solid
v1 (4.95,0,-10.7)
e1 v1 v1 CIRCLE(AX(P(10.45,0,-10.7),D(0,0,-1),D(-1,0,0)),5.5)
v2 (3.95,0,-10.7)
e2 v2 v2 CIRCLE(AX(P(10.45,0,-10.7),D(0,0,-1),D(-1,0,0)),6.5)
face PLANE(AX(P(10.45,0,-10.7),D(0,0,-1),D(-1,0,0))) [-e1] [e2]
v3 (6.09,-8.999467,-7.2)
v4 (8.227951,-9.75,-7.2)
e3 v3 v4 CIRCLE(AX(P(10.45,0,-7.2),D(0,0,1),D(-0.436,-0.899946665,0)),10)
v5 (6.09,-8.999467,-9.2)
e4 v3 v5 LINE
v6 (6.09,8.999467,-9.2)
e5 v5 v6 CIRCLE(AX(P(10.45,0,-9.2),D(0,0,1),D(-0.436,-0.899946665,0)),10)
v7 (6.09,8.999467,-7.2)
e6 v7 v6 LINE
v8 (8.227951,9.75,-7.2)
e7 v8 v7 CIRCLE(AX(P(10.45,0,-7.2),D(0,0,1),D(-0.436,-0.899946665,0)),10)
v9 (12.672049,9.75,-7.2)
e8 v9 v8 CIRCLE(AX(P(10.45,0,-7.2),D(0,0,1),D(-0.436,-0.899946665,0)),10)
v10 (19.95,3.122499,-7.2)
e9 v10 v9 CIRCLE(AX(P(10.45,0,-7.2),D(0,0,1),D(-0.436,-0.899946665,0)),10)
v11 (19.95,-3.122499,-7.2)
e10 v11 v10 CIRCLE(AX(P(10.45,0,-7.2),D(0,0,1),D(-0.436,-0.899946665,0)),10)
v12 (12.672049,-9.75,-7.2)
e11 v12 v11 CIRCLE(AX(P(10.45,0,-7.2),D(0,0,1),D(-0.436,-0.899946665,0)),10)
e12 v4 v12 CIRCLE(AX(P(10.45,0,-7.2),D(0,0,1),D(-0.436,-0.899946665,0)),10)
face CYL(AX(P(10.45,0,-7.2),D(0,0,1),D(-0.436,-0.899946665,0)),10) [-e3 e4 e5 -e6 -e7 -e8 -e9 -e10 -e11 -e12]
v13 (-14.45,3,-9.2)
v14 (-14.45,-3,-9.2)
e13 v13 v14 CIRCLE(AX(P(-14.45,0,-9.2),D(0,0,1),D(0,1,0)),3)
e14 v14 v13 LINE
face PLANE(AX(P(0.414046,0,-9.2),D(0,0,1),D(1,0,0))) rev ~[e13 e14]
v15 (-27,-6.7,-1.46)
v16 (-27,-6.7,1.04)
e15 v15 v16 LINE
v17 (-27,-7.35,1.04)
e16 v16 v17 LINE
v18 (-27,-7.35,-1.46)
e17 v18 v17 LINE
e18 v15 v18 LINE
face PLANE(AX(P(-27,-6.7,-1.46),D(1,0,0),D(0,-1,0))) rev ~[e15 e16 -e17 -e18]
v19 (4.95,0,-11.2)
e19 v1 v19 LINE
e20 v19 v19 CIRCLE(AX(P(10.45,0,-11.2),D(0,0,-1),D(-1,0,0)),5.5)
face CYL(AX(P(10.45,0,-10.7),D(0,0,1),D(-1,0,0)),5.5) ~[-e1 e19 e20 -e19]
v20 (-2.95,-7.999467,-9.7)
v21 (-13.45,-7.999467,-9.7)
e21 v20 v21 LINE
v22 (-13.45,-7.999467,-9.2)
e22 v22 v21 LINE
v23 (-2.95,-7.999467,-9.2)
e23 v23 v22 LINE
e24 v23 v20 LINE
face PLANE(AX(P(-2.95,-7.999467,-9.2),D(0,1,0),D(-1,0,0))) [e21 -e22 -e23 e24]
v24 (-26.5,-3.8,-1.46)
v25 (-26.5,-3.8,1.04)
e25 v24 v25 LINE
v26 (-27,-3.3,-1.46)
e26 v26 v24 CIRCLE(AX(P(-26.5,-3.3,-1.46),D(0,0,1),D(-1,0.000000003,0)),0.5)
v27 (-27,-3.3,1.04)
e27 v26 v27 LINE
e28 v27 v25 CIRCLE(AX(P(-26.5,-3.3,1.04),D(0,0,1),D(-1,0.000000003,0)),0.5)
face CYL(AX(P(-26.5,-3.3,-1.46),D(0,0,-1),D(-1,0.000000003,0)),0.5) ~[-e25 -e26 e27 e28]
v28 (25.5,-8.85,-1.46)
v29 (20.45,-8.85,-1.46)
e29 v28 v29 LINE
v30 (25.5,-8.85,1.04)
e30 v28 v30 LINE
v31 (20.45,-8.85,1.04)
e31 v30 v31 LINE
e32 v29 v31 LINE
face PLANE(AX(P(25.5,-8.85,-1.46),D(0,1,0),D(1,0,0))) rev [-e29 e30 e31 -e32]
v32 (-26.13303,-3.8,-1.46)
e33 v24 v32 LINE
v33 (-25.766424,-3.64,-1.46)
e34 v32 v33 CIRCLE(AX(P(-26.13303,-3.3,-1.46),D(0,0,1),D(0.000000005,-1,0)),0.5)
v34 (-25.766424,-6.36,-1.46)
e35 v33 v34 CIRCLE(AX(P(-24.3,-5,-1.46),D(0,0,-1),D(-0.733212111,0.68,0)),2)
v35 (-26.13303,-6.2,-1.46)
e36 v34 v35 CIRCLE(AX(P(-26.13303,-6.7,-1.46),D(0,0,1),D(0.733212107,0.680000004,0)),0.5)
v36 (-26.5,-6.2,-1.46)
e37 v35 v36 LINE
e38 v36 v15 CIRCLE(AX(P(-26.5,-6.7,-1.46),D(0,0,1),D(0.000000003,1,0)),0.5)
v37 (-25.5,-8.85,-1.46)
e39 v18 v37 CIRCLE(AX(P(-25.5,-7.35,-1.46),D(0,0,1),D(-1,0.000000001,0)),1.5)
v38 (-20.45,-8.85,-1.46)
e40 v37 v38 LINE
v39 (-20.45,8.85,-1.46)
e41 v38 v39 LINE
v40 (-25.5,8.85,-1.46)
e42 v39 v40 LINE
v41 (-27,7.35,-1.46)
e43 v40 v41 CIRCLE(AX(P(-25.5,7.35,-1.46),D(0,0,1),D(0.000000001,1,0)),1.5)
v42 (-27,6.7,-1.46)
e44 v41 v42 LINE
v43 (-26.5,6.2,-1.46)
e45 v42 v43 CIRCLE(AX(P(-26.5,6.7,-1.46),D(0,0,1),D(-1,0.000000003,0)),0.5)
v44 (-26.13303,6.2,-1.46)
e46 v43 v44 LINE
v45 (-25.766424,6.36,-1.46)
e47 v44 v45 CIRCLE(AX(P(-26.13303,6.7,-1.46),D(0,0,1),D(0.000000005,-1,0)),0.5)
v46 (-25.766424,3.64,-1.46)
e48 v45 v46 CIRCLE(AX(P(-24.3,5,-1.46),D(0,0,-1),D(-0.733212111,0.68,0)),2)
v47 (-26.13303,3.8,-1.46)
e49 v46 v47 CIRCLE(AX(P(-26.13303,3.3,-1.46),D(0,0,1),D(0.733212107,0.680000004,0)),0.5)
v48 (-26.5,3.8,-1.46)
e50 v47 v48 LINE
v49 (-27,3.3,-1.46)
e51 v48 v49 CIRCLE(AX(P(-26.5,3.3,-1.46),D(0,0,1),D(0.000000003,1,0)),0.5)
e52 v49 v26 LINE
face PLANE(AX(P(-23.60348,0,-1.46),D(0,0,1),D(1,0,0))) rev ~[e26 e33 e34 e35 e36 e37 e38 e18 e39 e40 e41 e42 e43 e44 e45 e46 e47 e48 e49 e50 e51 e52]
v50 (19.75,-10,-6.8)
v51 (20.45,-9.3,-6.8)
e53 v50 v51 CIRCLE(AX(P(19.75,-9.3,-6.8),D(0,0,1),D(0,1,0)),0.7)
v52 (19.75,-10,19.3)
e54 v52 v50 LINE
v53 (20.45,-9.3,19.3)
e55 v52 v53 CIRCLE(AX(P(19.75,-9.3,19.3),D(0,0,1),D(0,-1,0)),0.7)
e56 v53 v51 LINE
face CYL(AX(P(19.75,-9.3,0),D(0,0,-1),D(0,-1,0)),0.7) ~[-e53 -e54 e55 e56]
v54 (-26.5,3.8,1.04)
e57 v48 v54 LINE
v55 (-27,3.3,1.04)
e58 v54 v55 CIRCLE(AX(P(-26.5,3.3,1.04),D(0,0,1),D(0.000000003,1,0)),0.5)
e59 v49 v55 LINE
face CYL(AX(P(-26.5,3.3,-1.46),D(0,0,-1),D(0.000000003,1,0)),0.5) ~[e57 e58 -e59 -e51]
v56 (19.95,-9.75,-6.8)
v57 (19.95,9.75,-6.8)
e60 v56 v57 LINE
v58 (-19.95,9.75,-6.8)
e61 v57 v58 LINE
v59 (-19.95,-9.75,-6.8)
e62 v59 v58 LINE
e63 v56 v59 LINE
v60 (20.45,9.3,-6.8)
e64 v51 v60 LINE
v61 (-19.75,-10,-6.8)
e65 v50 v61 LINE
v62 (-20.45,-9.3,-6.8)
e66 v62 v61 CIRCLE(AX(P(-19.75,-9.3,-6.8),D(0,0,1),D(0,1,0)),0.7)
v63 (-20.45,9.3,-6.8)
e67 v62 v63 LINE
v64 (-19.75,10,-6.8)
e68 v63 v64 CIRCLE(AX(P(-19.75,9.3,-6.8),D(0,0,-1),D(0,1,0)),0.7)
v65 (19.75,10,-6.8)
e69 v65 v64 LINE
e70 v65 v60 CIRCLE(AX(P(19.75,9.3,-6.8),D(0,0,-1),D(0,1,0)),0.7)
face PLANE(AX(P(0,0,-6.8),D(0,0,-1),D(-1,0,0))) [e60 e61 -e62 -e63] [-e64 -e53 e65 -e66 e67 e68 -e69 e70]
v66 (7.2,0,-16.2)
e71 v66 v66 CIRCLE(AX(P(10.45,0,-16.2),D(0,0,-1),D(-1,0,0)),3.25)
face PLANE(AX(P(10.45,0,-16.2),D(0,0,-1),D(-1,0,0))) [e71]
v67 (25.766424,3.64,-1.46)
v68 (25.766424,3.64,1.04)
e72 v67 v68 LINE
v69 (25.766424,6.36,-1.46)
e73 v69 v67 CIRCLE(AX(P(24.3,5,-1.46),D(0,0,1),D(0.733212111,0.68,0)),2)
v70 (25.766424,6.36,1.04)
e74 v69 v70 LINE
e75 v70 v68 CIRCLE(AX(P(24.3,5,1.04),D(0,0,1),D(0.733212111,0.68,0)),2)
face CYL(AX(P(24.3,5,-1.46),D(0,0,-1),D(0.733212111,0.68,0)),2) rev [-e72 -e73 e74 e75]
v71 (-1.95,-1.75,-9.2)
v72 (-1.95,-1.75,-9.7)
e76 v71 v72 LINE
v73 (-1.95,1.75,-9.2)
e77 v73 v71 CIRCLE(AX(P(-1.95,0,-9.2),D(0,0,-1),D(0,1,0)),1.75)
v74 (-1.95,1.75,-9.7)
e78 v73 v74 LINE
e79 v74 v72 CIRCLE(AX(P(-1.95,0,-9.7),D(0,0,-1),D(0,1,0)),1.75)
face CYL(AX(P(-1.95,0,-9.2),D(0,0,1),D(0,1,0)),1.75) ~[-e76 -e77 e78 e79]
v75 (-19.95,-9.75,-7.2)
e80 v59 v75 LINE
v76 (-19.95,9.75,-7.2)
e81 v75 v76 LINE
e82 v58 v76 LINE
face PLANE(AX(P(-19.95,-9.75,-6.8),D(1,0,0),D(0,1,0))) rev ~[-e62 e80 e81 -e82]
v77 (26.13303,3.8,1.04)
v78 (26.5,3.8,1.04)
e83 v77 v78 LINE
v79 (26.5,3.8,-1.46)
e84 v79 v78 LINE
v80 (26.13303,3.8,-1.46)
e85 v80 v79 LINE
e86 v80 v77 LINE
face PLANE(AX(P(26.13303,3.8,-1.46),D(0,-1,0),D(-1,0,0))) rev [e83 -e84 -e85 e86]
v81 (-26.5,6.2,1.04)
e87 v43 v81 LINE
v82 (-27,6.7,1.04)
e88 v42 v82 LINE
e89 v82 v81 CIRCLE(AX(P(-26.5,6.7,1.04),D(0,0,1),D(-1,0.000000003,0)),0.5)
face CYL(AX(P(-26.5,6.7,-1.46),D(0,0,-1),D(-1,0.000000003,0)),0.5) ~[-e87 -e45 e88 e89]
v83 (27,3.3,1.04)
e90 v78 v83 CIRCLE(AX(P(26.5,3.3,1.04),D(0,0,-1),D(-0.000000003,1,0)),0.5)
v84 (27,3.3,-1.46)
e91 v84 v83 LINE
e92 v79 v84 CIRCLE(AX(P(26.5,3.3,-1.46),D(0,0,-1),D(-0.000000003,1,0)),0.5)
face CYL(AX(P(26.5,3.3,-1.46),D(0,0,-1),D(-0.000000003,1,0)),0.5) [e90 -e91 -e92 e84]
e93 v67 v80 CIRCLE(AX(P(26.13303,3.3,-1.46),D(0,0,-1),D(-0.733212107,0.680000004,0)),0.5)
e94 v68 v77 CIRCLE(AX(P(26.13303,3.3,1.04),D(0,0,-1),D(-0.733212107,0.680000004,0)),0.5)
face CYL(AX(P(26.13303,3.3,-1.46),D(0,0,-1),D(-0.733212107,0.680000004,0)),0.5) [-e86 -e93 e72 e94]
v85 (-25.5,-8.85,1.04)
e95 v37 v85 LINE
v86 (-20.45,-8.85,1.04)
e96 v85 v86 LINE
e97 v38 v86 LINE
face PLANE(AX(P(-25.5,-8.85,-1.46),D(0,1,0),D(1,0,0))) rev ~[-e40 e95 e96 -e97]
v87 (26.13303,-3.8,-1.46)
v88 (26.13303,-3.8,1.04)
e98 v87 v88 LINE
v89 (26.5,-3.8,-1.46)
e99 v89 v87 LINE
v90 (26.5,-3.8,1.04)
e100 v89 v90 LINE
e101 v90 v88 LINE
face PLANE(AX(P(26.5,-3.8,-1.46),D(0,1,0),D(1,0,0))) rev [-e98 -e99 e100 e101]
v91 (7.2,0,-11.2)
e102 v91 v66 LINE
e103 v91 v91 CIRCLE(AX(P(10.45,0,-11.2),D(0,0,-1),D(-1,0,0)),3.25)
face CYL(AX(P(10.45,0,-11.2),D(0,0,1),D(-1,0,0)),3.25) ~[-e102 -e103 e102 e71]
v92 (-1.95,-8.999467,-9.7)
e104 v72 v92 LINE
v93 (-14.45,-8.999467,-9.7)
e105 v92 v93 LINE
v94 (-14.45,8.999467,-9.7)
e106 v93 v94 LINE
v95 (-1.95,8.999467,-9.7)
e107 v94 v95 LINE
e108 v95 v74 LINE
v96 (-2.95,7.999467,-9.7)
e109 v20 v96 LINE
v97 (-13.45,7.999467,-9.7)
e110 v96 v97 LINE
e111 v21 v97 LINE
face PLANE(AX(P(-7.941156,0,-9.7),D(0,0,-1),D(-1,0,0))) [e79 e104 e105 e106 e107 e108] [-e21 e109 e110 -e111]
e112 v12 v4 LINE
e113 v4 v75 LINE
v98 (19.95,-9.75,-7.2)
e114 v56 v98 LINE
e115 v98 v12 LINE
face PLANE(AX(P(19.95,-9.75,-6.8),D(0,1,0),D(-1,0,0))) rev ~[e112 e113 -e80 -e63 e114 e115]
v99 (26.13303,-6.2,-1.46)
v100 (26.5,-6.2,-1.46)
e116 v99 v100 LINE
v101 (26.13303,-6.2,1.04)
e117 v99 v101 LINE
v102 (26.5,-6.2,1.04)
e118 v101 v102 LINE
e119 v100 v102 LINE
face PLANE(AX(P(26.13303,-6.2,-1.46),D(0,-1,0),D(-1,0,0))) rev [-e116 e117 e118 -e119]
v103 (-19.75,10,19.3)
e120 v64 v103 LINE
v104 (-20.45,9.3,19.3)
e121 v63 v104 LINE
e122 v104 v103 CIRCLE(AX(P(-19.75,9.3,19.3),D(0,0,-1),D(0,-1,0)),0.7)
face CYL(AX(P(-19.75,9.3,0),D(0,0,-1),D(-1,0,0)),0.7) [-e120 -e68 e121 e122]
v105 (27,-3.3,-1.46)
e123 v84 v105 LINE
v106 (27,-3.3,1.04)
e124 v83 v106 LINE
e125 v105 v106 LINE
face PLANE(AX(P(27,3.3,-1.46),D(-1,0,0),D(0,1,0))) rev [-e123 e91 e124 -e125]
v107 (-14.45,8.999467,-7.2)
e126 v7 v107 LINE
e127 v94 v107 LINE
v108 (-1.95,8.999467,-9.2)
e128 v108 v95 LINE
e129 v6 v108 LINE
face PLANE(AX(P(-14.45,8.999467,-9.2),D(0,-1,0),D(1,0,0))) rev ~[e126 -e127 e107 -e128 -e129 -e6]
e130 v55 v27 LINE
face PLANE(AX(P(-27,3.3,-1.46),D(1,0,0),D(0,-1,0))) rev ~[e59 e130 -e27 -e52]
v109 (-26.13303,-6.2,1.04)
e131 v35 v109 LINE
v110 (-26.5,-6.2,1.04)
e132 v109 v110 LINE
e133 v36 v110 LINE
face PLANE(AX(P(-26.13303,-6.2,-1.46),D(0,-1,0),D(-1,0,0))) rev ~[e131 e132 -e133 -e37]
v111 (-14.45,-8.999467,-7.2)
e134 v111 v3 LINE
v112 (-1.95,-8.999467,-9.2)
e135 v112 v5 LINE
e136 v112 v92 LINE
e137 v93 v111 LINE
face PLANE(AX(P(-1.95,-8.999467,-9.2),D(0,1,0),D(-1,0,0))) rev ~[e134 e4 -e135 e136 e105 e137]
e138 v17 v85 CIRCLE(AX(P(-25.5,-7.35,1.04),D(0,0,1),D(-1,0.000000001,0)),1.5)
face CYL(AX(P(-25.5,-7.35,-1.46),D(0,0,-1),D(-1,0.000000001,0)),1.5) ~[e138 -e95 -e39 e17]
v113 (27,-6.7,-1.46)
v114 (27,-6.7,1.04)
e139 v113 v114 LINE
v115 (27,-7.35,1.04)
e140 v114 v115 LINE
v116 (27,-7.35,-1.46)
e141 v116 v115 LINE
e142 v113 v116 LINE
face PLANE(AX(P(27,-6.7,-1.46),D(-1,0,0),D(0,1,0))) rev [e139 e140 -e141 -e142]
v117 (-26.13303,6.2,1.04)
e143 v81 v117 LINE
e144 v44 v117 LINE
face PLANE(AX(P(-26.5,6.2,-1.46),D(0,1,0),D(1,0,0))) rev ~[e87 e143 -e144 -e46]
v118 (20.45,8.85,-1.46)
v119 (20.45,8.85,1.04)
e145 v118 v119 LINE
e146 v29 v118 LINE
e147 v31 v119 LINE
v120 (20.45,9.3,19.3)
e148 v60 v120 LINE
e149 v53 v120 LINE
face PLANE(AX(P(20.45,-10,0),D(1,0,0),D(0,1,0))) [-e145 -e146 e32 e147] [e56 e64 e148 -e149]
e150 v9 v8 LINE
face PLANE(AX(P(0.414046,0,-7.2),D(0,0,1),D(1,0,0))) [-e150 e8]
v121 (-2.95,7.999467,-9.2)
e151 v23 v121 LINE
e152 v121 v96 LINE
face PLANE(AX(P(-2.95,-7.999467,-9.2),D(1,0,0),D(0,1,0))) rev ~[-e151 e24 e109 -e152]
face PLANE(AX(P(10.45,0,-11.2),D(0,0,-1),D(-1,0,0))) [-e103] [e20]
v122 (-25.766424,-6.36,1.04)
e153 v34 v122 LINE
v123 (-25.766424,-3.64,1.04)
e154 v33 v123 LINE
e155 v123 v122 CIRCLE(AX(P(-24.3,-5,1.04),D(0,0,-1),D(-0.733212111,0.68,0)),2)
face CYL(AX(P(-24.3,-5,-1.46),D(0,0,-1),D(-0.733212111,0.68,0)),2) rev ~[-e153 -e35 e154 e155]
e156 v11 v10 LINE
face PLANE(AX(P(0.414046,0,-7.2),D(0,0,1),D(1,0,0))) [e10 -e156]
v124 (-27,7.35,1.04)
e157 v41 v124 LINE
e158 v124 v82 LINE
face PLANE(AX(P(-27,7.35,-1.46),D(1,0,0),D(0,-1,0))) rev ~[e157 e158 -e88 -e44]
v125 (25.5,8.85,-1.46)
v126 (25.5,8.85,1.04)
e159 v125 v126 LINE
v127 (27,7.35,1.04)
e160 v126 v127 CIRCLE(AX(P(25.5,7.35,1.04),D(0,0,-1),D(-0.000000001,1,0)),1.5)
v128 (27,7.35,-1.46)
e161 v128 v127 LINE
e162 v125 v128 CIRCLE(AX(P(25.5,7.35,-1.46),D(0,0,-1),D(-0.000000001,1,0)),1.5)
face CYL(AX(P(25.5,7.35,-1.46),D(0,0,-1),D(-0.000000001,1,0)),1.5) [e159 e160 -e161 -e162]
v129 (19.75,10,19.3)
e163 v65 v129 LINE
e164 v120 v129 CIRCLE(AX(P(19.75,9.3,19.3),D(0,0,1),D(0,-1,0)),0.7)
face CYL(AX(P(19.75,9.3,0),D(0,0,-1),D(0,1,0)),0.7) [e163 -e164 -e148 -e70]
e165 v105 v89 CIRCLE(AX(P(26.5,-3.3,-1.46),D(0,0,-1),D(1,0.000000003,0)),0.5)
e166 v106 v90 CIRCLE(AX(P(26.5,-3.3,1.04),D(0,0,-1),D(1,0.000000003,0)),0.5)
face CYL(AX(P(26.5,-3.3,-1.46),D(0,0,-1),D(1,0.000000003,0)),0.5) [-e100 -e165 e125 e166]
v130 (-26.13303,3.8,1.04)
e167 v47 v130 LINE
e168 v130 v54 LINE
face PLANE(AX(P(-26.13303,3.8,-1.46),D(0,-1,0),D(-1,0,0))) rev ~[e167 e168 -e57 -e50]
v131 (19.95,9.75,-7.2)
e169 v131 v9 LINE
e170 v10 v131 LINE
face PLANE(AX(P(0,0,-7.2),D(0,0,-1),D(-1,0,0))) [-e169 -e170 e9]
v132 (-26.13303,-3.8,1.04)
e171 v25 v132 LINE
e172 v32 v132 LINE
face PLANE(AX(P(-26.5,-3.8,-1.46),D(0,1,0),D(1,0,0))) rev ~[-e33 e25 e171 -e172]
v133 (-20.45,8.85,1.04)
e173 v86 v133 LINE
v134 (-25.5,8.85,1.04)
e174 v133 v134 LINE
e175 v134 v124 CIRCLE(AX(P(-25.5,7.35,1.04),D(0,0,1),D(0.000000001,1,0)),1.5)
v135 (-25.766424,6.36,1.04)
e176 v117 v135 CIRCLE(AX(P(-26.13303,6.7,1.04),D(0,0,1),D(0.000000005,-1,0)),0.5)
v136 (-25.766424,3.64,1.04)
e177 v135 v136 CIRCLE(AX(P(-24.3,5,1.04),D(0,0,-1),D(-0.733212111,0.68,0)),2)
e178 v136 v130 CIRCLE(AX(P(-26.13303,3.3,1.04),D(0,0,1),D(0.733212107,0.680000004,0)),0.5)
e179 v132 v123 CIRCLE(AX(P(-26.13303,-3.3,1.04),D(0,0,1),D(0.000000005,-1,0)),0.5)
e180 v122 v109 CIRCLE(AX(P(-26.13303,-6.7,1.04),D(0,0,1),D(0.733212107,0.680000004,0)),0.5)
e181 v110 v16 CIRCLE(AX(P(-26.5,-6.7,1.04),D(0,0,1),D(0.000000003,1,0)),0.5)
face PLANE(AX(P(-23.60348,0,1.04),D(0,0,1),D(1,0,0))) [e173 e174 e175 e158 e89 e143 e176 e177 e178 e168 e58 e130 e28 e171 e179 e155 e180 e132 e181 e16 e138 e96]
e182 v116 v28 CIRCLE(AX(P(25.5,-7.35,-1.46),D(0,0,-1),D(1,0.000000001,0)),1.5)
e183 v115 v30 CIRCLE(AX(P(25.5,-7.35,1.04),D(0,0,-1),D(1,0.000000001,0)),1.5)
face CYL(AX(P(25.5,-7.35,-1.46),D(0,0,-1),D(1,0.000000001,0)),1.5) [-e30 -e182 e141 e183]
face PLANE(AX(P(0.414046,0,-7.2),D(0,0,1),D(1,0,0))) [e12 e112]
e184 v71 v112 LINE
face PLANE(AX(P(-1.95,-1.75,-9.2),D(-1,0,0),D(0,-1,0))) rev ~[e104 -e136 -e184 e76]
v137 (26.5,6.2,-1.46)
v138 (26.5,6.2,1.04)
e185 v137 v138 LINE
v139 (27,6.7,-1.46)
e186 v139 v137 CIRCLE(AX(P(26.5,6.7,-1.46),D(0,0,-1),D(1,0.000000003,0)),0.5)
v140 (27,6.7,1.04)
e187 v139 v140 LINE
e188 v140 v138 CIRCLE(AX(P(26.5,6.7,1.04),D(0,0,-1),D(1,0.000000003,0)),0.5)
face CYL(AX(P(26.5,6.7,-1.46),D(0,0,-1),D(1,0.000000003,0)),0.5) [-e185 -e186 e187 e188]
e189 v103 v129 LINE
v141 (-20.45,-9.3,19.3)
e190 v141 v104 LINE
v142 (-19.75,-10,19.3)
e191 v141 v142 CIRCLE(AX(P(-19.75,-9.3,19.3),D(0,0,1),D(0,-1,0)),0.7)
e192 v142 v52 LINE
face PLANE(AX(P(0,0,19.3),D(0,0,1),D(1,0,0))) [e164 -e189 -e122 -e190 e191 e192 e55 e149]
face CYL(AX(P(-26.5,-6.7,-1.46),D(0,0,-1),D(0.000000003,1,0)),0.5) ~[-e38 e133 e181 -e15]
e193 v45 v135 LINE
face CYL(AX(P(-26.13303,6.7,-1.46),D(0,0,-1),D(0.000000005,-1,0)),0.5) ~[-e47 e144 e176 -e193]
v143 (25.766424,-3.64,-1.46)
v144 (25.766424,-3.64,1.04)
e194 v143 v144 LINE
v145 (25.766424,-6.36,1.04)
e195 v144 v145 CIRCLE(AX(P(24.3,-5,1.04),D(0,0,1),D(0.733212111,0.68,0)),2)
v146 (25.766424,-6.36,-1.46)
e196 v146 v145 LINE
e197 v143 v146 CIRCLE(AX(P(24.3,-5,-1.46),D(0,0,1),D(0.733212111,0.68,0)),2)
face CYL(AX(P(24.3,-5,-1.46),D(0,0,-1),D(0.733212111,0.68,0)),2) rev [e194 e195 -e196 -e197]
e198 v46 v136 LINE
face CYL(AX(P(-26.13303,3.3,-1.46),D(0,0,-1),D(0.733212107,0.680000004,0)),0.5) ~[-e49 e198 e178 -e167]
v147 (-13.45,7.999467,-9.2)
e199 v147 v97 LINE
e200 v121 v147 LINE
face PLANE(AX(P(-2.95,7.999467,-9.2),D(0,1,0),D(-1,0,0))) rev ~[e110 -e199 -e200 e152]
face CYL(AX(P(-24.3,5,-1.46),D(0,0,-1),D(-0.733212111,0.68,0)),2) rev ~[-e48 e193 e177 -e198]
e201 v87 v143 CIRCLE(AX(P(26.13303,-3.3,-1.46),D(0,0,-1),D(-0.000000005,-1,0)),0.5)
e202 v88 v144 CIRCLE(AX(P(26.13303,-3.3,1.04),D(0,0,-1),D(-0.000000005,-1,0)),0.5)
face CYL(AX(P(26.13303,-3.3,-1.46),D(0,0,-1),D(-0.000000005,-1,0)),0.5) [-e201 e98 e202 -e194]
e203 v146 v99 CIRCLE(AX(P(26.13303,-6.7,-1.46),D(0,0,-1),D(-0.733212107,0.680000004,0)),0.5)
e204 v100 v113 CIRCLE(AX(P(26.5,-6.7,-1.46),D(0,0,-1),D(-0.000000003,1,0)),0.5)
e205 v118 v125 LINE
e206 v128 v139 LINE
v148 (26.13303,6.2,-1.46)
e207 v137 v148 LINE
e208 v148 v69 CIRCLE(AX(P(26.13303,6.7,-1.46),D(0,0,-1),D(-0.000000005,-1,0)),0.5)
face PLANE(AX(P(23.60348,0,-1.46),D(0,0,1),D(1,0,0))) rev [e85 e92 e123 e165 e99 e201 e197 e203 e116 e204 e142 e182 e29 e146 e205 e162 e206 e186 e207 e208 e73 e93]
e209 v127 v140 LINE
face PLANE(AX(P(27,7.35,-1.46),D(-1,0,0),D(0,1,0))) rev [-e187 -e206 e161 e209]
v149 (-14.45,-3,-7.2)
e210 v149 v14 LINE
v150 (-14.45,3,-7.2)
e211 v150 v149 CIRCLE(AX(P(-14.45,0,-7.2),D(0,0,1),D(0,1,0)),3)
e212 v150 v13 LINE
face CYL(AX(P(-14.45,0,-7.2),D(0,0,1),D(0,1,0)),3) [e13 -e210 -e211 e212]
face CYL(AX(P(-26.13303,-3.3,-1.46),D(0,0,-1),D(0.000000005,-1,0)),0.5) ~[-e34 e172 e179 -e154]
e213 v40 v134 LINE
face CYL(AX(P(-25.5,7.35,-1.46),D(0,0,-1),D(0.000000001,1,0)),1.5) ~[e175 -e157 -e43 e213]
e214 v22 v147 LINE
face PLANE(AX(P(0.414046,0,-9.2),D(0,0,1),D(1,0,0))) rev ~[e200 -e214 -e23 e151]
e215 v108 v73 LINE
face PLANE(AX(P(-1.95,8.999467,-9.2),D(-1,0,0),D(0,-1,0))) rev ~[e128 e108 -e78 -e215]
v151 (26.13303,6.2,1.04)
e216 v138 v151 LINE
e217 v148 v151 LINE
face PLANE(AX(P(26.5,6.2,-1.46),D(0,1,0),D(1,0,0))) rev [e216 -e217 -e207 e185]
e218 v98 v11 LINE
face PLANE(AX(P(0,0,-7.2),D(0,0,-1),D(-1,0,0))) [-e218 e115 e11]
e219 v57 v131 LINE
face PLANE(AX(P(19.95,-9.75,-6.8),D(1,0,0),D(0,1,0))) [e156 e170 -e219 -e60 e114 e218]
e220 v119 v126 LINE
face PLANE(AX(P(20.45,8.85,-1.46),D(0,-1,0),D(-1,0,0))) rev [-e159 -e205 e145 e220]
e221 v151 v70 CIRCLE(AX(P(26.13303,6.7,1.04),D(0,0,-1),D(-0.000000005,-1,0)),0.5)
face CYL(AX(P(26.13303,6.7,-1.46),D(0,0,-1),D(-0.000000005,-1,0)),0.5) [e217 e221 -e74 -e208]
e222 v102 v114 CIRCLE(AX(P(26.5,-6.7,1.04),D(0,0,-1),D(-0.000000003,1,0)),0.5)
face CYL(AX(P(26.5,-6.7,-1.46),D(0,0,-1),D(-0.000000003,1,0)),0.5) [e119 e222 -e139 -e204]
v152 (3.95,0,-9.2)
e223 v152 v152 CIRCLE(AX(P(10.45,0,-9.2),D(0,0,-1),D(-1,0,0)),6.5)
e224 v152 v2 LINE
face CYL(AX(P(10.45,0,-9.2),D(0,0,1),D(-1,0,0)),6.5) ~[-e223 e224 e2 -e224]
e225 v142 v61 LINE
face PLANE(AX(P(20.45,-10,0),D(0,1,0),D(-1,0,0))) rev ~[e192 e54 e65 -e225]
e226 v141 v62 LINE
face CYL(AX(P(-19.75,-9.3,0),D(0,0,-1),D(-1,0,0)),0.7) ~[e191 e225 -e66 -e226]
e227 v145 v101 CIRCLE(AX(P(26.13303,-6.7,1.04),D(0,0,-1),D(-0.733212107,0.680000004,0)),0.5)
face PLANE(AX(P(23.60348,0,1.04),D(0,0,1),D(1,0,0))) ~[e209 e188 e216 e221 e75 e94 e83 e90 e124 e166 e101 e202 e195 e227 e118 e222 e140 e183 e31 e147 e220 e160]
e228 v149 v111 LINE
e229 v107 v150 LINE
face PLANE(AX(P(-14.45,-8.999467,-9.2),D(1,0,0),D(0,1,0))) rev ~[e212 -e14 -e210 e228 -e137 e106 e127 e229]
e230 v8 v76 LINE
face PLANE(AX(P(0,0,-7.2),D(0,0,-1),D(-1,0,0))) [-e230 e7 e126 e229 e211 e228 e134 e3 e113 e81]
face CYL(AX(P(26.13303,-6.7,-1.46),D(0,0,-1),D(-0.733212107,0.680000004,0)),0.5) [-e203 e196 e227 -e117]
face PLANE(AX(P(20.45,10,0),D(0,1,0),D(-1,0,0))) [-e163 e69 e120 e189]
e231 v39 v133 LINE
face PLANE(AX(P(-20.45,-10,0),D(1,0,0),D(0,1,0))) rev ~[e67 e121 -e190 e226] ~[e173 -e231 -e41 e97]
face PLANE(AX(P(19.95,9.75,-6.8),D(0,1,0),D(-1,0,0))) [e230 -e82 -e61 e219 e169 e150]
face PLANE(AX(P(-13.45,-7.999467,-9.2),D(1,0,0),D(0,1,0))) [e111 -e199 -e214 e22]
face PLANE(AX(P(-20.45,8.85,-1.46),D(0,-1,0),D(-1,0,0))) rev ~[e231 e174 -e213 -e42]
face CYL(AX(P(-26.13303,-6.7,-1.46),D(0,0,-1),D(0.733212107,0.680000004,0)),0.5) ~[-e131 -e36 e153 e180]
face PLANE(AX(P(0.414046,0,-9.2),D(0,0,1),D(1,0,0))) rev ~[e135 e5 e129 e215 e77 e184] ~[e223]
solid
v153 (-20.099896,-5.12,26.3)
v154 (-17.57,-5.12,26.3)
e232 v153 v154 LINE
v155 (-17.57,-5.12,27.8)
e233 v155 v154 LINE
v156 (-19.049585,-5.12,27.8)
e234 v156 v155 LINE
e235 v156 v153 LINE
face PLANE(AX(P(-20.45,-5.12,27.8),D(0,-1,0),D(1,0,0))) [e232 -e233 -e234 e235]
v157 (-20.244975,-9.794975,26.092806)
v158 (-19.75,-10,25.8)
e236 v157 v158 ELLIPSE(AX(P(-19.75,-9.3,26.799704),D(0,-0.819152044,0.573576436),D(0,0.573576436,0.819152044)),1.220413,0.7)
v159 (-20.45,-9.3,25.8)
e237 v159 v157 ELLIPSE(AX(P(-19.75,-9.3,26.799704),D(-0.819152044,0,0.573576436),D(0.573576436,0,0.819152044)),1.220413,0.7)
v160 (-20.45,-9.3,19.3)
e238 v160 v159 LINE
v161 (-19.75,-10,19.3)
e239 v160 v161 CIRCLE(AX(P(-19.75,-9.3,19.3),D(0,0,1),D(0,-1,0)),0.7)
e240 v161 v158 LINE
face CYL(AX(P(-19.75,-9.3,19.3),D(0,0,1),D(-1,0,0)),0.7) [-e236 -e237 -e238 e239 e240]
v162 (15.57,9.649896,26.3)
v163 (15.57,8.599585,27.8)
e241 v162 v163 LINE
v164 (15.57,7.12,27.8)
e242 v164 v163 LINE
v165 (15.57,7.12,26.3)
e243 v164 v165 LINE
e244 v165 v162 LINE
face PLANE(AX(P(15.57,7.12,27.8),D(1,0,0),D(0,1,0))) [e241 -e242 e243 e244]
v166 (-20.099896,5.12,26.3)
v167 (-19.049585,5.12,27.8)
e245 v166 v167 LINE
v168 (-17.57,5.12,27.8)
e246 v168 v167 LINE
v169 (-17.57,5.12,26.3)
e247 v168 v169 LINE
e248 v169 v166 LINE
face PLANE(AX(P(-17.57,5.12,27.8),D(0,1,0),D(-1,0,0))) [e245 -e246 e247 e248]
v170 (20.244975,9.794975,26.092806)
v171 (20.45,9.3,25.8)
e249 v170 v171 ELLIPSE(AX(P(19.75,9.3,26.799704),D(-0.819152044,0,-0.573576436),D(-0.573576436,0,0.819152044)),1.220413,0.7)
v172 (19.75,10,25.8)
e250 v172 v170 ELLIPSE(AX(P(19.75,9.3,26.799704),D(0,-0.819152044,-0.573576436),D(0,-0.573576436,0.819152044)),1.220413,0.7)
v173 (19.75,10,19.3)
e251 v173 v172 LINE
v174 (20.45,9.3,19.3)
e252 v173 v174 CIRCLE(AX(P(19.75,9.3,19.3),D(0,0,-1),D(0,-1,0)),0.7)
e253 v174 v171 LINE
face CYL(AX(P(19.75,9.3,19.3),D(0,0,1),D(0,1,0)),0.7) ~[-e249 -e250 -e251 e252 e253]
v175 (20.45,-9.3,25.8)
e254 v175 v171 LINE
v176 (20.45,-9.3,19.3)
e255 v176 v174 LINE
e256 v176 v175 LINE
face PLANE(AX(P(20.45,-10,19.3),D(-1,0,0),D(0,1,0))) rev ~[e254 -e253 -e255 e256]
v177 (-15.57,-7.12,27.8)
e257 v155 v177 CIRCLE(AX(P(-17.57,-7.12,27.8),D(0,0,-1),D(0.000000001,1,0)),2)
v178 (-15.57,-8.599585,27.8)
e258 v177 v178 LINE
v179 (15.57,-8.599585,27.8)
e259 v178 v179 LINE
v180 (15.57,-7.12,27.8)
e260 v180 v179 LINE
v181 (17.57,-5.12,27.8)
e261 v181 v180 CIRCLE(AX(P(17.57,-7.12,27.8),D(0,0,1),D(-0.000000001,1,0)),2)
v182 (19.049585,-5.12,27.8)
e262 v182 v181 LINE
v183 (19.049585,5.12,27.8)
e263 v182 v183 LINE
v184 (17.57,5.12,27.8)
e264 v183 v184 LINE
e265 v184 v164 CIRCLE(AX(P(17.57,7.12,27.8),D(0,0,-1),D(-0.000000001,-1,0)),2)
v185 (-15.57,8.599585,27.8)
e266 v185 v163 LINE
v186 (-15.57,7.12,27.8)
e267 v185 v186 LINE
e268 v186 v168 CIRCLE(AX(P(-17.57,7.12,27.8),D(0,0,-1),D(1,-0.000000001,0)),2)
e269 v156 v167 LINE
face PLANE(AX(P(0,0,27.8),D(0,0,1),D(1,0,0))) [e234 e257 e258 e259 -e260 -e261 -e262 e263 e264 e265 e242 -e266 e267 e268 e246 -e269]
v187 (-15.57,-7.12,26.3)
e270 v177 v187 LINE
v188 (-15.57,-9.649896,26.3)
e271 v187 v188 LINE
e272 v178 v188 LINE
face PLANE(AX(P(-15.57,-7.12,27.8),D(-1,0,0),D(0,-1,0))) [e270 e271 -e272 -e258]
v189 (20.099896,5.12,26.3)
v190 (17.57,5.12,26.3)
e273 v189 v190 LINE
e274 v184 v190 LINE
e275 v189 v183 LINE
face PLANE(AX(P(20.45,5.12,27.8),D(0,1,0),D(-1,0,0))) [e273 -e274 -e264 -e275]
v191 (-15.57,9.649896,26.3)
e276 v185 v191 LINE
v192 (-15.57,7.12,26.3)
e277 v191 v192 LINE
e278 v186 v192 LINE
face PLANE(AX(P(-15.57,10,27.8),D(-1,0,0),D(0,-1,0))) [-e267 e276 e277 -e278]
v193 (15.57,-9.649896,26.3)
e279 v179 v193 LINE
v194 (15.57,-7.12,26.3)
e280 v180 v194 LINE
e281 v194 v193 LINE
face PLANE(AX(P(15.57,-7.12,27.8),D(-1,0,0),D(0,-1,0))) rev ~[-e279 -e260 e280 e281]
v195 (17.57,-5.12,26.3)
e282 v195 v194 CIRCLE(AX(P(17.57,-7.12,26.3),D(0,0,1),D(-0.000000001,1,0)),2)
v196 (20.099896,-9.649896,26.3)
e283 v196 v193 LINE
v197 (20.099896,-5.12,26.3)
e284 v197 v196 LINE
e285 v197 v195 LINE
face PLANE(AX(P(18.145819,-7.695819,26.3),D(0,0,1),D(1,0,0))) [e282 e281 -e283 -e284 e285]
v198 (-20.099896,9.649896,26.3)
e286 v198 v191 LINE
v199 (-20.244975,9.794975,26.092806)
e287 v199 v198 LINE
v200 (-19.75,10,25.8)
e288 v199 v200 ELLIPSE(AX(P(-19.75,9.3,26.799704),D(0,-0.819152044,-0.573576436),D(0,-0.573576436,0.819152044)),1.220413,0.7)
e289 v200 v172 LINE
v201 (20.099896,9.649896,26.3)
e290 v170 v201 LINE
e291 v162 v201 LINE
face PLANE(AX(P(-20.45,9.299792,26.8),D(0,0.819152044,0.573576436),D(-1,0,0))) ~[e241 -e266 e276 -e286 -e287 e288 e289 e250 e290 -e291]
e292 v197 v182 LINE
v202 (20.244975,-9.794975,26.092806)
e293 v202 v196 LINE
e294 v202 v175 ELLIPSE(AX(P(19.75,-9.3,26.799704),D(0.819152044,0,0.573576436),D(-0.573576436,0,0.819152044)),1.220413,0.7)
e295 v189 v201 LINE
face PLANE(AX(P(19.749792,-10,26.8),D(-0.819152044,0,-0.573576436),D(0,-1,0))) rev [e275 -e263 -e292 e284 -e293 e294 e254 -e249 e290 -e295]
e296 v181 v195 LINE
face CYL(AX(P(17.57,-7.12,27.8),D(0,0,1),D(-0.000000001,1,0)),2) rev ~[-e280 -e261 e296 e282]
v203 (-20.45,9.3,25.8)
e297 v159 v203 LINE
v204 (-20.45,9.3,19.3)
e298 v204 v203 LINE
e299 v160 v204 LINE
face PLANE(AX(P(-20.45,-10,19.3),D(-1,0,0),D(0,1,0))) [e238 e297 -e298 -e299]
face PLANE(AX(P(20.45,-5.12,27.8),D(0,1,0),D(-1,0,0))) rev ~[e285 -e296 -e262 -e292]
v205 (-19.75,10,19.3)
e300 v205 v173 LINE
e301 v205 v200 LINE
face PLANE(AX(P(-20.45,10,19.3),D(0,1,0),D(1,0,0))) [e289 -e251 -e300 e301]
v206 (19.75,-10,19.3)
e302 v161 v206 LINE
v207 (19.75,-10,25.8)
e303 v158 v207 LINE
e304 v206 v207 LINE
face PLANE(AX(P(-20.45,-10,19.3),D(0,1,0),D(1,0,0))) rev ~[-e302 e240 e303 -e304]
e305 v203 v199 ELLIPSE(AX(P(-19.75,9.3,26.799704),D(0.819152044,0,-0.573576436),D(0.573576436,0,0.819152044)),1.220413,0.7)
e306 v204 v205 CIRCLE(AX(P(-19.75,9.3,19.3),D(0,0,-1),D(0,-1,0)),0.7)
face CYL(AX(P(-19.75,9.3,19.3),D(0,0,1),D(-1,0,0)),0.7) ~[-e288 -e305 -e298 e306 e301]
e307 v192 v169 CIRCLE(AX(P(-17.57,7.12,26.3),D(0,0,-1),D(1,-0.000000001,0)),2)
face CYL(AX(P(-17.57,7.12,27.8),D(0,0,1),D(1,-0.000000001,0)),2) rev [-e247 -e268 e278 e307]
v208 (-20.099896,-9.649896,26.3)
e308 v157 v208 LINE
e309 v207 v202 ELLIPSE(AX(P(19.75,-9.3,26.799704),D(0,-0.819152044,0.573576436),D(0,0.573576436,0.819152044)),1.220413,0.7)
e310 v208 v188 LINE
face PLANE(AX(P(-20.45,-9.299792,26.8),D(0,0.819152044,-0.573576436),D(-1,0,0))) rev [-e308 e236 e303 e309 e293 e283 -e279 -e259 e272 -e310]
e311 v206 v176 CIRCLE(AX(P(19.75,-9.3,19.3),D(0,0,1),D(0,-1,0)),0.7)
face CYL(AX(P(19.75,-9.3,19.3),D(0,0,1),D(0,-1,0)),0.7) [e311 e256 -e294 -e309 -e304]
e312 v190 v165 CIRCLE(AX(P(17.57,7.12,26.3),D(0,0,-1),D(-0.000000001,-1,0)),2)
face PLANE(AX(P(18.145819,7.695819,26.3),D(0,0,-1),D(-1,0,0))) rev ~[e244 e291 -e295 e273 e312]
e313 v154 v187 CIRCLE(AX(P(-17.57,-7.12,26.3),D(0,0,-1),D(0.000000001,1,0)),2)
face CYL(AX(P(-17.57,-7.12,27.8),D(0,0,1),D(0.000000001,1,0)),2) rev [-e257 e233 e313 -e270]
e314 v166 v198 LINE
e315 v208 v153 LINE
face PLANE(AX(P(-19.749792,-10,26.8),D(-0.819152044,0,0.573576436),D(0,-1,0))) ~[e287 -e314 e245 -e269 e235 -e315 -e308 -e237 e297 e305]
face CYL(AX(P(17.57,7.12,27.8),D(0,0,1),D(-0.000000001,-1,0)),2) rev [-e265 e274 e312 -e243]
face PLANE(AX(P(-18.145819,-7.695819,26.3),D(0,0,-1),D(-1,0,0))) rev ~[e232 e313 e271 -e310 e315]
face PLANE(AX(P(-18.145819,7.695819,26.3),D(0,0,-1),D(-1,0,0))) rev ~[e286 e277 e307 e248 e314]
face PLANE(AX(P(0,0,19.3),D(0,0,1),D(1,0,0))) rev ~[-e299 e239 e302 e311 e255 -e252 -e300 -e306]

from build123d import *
from OCP.BRepFilletAPI import BRepFilletAPI_MakeChamfer

# Parameters (mm, degrees)
SKETCH1_W            = 40.9
SKETCH1_H            = 20
BOSS_EXTRUDE1_DEPTH  = 19.3
SKETCH3_W            = 40.9
SKETCH3_H            = 20
BOSS_EXTRUDE2_DEPTH  = 6.8
SKETCH4_W            = 40.9
SKETCH4_H            = 20
BOSS_EXTRUDE3_DEPTH  = 8.5
CHAMFER1_SIZE        = 2
CHAMFER1_SIZE2       = 1.400415076
CUT_EXTRUDE1_DEPTH   = 1.5
SKETCH6_W            = 39.9
SKETCH6_H            = 19.5
BOSS_EXTRUDE4_DEPTH  = 0.4
BOSS_EXTRUDE5_DEPTH  = 2
SKETCH8_R            = 6.5
BOSS_EXTRUDE6_DEPTH  = 1.5
SKETCH9_R            = 5.5
BOSS_EXTRUDE8_DEPTH  = 0.5
SKETCH11_R           = 3.25
BOSS_EXTRUDE9_DEPTH  = 5
SKETCH12_W           = 10.5
SKETCH12_H           = 15.998933302
BOSS_EXTRUDE10_DEPTH = 0.5
FILLET1_R            = 0.7
FILLET2_R            = 0.7
FILLET3_R            = 0.7
BOSS_EXTRUDE11_START = -5.74
BOSS_EXTRUDE11_DEPTH = 2.5


with BuildPart() as part:
    # Sketch1 → Boss-Extrude1 (new body)
    with BuildSketch(Plane.XY):
        Rectangle(SKETCH1_W, SKETCH1_H)
    extrude(amount=BOSS_EXTRUDE1_DEPTH)

    # Fillet1
    fillet1_edges = [part.edges().sort_by_distance(p)[0] for p in [
        (-20.45, 10, 9.65),
        (20.45, 10, 9.65),
        (20.45, -10, 9.65),
        (-20.45, -10, 9.65),
    ]]
    fillet(fillet1_edges, radius=FILLET1_R)



with BuildPart() as body_2:
    # Sketch3 → Boss-Extrude2 (new body)
    with BuildSketch(Plane(origin=(0, 0, 0), x_dir=(-1, 0, 0), z_dir=(0, 0, -1))):
        Rectangle(SKETCH3_W, SKETCH3_H)
    extrude(amount=BOSS_EXTRUDE2_DEPTH)

    # Sketch6 → Boss-Extrude4 (add)
    with BuildSketch(Plane(origin=(0, 0, -6.8), x_dir=(-1, 0, 0), z_dir=(0, 0, -1))):
        Rectangle(SKETCH6_W, SKETCH6_H)
    extrude(amount=BOSS_EXTRUDE4_DEPTH)

    # Sketch7 → Boss-Extrude5 (add)
    with BuildSketch(Plane(origin=(0, 0, -7.2), x_dir=(-1, 0, 0), z_dir=(0, 0, -1))):
        with BuildLine():
            Line((-6.09, 8.999466651), (14.45, 8.999466651))
            Line((14.45, 8.999466651), (14.45, 3))
            ThreePointArc((14.45, 3), (17.45, 0), (14.45, -3))
            Line((14.45, -3), (14.45, -8.999466651))
            Line((14.45, -8.999466651), (-6.09, -8.999466651))
            ThreePointArc((-6.09, -8.999466651), (-20.45, 0), (-6.09, 8.999466651))
        make_face()
    extrude(amount=BOSS_EXTRUDE5_DEPTH)

    # Sketch8 → Boss-Extrude6 (add)
    with BuildSketch(Plane(origin=(0, 0, -9.2), x_dir=(-1, 0, 0), z_dir=(0, 0, -1))):
        with Locations((-10.45, 0)):
            Circle(SKETCH8_R)
    extrude(amount=BOSS_EXTRUDE6_DEPTH)

    # Sketch9 → Boss-Extrude8 (add)
    with BuildSketch(Plane(origin=(0, 0, -10.7), x_dir=(-1, 0, 0), z_dir=(0, 0, -1))):
        with Locations((-10.45, 0)):
            Circle(SKETCH9_R)
    extrude(amount=BOSS_EXTRUDE8_DEPTH)

    # Sketch11 → Boss-Extrude9 (add)
    with BuildSketch(Plane(origin=(0, 0, -11.2), x_dir=(-1, 0, 0), z_dir=(0, 0, -1))):
        with Locations((-10.45, 0)):
            Circle(SKETCH11_R)
    extrude(amount=BOSS_EXTRUDE9_DEPTH)

    # Sketch12 → Boss-Extrude10 (add)
    with BuildSketch(Plane(origin=(0, 0, -9.2), x_dir=(-1, 0, 0), z_dir=(0, 0, -1))):
        with BuildLine():
            Line((14.45, 8.999466651), (1.95, 8.999466651))
            Line((1.95, 8.999466651), (1.95, 1.75))
            ThreePointArc((1.95, 1.75), (0.2, 0), (1.95, -1.75))
            Line((1.95, -1.75), (1.95, -8.999466651))
            Line((1.95, -8.999466651), (14.45, -8.999466651))
            Line((14.45, -8.999466651), (14.45, 8.999466651))
        make_face()
        with Locations((8.2, 0)):
            Rectangle(SKETCH12_W, SKETCH12_H, mode=Mode.SUBTRACT)
    extrude(amount=BOSS_EXTRUDE10_DEPTH)

    # Fillet2
    fillet2_edges = [body_2.edges().sort_by_distance(p)[0] for p in [
        (20.45, -10, -3.4),
        (20.45, 10, -3.4),
        (-20.45, 10, -3.4),
        (-20.45, -10, -3.4),
    ]]
    fillet(fillet2_edges, radius=FILLET2_R)


with BuildPart() as body_3:
    # Sketch4 → Boss-Extrude3 (new body)
    with BuildSketch(Plane.XY.offset(19.3)):
        Rectangle(SKETCH4_W, SKETCH4_H)
    extrude(amount=BOSS_EXTRUDE3_DEPTH)

    # Chamfer1: one chamfer whose edges measure the first distance from different faces: ONE call of the kernel's chamfer builder (chamfer() names one face for all edges)
    chamfer1_edges_1 = [body_3.edges().sort_by_distance(p)[0] for p in [
        (0, -10, 27.8),
    ]]
    chamfer1_side_1 = [body_3.faces().sort_by_distance(p)[0] for p in [
        (0, -10, 23.55),
    ]]
    chamfer1_edges_2 = [body_3.edges().sort_by_distance(p)[0] for p in [
        (20.45, 0, 27.8),
    ]]
    chamfer1_side_2 = [body_3.faces().sort_by_distance(p)[0] for p in [
        (20.45, 0, 23.55),
    ]]
    chamfer1_edges_3 = [body_3.edges().sort_by_distance(p)[0] for p in [
        (0, 10, 27.8),
    ]]
    chamfer1_side_3 = [body_3.faces().sort_by_distance(p)[0] for p in [
        (0, 10, 23.55),
    ]]
    chamfer1_edges_4 = [body_3.edges().sort_by_distance(p)[0] for p in [
        (-20.45, 0, 27.8),
    ]]
    chamfer1_side_4 = [body_3.faces().sort_by_distance(p)[0] for p in [
        (-20.45, 0, 23.55),
    ]]
    chamfer1 = BRepFilletAPI_MakeChamfer(body_3.part.solid().wrapped)
    for e in chamfer1_edges_1:
        chamfer1.Add(CHAMFER1_SIZE, CHAMFER1_SIZE2, e.wrapped, chamfer1_side_1[0].wrapped)  # the first distance lies on this face
    for e in chamfer1_edges_2:
        chamfer1.Add(CHAMFER1_SIZE, CHAMFER1_SIZE2, e.wrapped, chamfer1_side_2[0].wrapped)  # the first distance lies on this face
    for e in chamfer1_edges_3:
        chamfer1.Add(CHAMFER1_SIZE, CHAMFER1_SIZE2, e.wrapped, chamfer1_side_3[0].wrapped)  # the first distance lies on this face
    for e in chamfer1_edges_4:
        chamfer1.Add(CHAMFER1_SIZE, CHAMFER1_SIZE2, e.wrapped, chamfer1_side_4[0].wrapped)  # the first distance lies on this face
    add(Compound.cast(chamfer1.Shape()), mode=Mode.REPLACE)

    # Sketch5 → Cut-Extrude1 (cut)
    with BuildSketch(Plane.XY.offset(27.8)):
        with BuildLine():
            Line((-20.45, 10), (-15.57, 10))
            Line((-15.57, 10), (-15.57, 7.12))
            ThreePointArc((-15.57, 7.12), (-16.155786438, 5.705786438), (-17.57, 5.12))
            Line((-17.57, 5.12), (-20.45, 5.12))
            Line((-20.45, 5.12), (-20.45, 10))
        make_face()
        with BuildLine():
            Line((20.45, 5.12), (17.57, 5.12))
            ThreePointArc((17.57, 5.12), (16.155786438, 5.705786438), (15.57, 7.12))
            Line((15.57, 7.12), (15.57, 10))
            Line((15.57, 10), (20.45, 10))
            Line((20.45, 10), (20.45, 5.12))
        make_face()
        with BuildLine():
            Line((-20.45, -5.12), (-17.57, -5.12))
            ThreePointArc((-17.57, -5.12), (-16.155786438, -5.705786438), (-15.57, -7.12))
            Line((-15.57, -7.12), (-15.57, -10))
            Line((-15.57, -10), (-20.45, -10))
            Line((-20.45, -10), (-20.45, -5.12))
        make_face()
        with BuildLine():
            Line((20.45, -10), (20.45, -5.12))
            Line((20.45, -5.12), (17.57, -5.12))
            ThreePointArc((17.57, -5.12), (16.155786438, -5.705786438), (15.57, -7.12))
            Line((15.57, -7.12), (15.57, -10))
            Line((15.57, -10), (20.45, -10))
        make_face()
    extrude(amount=-CUT_EXTRUDE1_DEPTH, mode=Mode.SUBTRACT)

    # Fillet3
    fillet3_edges = [body_3.edges().sort_by_distance(p)[0] for p in [
        (20.45, 10, 22.55),
        (20.45, -10, 22.55),
        (-20.45, -10, 22.55),
        (-20.45, 10, 22.55),
    ]]
    fillet(fillet3_edges, radius=FILLET3_R)


with BuildPart() as part_1:
    add(part.part)

    add(body_2.part)  # Boss-Extrude11 merges body 2
    # Sketch13 → Boss-Extrude11 (add)
    with BuildSketch(Plane(origin=(0, 0, -7.2), x_dir=(-1, 0, 0), z_dir=(0, 0, -1)).offset(BOSS_EXTRUDE11_START)):
        with BuildLine():
            Line((20.45, 8.85), (25.5, 8.85))
            ThreePointArc((25.5, 8.85), (26.560660172, 8.410660172), (27, 7.35))
            Line((27, 7.35), (27, 6.7))
            ThreePointArc((27, 6.7), (26.853553391, 6.346446609), (26.5, 6.2))
            Line((26.5, 6.2), (26.133030278, 6.2))
            ThreePointArc((26.133030278, 6.2), (25.933030278, 6.241742431), (25.766424222, 6.36))
            ThreePointArc((25.766424222, 6.36), (22.3, 5), (25.766424222, 3.64))
            ThreePointArc((25.766424222, 3.64), (25.933030278, 3.758257569), (26.133030278, 3.8))
            Line((26.133030278, 3.8), (26.5, 3.8))
            ThreePointArc((26.5, 3.8), (26.853553391, 3.653553391), (27, 3.3))
            Line((27, 3.3), (27, -3.3))
            ThreePointArc((27, -3.3), (26.853553391, -3.653553391), (26.5, -3.8))
            Line((26.5, -3.8), (26.133030278, -3.8))
            ThreePointArc((26.133030278, -3.8), (25.933030278, -3.758257569), (25.766424222, -3.64))
            ThreePointArc((25.766424222, -3.64), (22.3, -5), (25.766424222, -6.36))
            ThreePointArc((25.766424222, -6.36), (25.933030278, -6.241742431), (26.133030278, -6.2))
            Line((26.133030278, -6.2), (26.5, -6.2))
            ThreePointArc((26.5, -6.2), (26.853553391, -6.346446609), (27, -6.7))
            Line((27, -6.7), (27, -7.35))
            ThreePointArc((27, -7.35), (26.560660172, -8.410660172), (25.5, -8.85))
            Line((25.5, -8.85), (20.45, -8.85))
            Line((20.45, -8.85), (20.45, 8.85))
        make_face()
    boss_extrude11 = extrude(amount=-BOSS_EXTRUDE11_DEPTH)

    # Mirror1: Boss-Extrude11 across plane
    add(boss_extrude11.mirror(Plane(origin=(0, 0, 0), x_dir=(0, 0, 1), z_dir=(1, 0, 0))))


solid = Compound([body_3.part, part_1.part])
